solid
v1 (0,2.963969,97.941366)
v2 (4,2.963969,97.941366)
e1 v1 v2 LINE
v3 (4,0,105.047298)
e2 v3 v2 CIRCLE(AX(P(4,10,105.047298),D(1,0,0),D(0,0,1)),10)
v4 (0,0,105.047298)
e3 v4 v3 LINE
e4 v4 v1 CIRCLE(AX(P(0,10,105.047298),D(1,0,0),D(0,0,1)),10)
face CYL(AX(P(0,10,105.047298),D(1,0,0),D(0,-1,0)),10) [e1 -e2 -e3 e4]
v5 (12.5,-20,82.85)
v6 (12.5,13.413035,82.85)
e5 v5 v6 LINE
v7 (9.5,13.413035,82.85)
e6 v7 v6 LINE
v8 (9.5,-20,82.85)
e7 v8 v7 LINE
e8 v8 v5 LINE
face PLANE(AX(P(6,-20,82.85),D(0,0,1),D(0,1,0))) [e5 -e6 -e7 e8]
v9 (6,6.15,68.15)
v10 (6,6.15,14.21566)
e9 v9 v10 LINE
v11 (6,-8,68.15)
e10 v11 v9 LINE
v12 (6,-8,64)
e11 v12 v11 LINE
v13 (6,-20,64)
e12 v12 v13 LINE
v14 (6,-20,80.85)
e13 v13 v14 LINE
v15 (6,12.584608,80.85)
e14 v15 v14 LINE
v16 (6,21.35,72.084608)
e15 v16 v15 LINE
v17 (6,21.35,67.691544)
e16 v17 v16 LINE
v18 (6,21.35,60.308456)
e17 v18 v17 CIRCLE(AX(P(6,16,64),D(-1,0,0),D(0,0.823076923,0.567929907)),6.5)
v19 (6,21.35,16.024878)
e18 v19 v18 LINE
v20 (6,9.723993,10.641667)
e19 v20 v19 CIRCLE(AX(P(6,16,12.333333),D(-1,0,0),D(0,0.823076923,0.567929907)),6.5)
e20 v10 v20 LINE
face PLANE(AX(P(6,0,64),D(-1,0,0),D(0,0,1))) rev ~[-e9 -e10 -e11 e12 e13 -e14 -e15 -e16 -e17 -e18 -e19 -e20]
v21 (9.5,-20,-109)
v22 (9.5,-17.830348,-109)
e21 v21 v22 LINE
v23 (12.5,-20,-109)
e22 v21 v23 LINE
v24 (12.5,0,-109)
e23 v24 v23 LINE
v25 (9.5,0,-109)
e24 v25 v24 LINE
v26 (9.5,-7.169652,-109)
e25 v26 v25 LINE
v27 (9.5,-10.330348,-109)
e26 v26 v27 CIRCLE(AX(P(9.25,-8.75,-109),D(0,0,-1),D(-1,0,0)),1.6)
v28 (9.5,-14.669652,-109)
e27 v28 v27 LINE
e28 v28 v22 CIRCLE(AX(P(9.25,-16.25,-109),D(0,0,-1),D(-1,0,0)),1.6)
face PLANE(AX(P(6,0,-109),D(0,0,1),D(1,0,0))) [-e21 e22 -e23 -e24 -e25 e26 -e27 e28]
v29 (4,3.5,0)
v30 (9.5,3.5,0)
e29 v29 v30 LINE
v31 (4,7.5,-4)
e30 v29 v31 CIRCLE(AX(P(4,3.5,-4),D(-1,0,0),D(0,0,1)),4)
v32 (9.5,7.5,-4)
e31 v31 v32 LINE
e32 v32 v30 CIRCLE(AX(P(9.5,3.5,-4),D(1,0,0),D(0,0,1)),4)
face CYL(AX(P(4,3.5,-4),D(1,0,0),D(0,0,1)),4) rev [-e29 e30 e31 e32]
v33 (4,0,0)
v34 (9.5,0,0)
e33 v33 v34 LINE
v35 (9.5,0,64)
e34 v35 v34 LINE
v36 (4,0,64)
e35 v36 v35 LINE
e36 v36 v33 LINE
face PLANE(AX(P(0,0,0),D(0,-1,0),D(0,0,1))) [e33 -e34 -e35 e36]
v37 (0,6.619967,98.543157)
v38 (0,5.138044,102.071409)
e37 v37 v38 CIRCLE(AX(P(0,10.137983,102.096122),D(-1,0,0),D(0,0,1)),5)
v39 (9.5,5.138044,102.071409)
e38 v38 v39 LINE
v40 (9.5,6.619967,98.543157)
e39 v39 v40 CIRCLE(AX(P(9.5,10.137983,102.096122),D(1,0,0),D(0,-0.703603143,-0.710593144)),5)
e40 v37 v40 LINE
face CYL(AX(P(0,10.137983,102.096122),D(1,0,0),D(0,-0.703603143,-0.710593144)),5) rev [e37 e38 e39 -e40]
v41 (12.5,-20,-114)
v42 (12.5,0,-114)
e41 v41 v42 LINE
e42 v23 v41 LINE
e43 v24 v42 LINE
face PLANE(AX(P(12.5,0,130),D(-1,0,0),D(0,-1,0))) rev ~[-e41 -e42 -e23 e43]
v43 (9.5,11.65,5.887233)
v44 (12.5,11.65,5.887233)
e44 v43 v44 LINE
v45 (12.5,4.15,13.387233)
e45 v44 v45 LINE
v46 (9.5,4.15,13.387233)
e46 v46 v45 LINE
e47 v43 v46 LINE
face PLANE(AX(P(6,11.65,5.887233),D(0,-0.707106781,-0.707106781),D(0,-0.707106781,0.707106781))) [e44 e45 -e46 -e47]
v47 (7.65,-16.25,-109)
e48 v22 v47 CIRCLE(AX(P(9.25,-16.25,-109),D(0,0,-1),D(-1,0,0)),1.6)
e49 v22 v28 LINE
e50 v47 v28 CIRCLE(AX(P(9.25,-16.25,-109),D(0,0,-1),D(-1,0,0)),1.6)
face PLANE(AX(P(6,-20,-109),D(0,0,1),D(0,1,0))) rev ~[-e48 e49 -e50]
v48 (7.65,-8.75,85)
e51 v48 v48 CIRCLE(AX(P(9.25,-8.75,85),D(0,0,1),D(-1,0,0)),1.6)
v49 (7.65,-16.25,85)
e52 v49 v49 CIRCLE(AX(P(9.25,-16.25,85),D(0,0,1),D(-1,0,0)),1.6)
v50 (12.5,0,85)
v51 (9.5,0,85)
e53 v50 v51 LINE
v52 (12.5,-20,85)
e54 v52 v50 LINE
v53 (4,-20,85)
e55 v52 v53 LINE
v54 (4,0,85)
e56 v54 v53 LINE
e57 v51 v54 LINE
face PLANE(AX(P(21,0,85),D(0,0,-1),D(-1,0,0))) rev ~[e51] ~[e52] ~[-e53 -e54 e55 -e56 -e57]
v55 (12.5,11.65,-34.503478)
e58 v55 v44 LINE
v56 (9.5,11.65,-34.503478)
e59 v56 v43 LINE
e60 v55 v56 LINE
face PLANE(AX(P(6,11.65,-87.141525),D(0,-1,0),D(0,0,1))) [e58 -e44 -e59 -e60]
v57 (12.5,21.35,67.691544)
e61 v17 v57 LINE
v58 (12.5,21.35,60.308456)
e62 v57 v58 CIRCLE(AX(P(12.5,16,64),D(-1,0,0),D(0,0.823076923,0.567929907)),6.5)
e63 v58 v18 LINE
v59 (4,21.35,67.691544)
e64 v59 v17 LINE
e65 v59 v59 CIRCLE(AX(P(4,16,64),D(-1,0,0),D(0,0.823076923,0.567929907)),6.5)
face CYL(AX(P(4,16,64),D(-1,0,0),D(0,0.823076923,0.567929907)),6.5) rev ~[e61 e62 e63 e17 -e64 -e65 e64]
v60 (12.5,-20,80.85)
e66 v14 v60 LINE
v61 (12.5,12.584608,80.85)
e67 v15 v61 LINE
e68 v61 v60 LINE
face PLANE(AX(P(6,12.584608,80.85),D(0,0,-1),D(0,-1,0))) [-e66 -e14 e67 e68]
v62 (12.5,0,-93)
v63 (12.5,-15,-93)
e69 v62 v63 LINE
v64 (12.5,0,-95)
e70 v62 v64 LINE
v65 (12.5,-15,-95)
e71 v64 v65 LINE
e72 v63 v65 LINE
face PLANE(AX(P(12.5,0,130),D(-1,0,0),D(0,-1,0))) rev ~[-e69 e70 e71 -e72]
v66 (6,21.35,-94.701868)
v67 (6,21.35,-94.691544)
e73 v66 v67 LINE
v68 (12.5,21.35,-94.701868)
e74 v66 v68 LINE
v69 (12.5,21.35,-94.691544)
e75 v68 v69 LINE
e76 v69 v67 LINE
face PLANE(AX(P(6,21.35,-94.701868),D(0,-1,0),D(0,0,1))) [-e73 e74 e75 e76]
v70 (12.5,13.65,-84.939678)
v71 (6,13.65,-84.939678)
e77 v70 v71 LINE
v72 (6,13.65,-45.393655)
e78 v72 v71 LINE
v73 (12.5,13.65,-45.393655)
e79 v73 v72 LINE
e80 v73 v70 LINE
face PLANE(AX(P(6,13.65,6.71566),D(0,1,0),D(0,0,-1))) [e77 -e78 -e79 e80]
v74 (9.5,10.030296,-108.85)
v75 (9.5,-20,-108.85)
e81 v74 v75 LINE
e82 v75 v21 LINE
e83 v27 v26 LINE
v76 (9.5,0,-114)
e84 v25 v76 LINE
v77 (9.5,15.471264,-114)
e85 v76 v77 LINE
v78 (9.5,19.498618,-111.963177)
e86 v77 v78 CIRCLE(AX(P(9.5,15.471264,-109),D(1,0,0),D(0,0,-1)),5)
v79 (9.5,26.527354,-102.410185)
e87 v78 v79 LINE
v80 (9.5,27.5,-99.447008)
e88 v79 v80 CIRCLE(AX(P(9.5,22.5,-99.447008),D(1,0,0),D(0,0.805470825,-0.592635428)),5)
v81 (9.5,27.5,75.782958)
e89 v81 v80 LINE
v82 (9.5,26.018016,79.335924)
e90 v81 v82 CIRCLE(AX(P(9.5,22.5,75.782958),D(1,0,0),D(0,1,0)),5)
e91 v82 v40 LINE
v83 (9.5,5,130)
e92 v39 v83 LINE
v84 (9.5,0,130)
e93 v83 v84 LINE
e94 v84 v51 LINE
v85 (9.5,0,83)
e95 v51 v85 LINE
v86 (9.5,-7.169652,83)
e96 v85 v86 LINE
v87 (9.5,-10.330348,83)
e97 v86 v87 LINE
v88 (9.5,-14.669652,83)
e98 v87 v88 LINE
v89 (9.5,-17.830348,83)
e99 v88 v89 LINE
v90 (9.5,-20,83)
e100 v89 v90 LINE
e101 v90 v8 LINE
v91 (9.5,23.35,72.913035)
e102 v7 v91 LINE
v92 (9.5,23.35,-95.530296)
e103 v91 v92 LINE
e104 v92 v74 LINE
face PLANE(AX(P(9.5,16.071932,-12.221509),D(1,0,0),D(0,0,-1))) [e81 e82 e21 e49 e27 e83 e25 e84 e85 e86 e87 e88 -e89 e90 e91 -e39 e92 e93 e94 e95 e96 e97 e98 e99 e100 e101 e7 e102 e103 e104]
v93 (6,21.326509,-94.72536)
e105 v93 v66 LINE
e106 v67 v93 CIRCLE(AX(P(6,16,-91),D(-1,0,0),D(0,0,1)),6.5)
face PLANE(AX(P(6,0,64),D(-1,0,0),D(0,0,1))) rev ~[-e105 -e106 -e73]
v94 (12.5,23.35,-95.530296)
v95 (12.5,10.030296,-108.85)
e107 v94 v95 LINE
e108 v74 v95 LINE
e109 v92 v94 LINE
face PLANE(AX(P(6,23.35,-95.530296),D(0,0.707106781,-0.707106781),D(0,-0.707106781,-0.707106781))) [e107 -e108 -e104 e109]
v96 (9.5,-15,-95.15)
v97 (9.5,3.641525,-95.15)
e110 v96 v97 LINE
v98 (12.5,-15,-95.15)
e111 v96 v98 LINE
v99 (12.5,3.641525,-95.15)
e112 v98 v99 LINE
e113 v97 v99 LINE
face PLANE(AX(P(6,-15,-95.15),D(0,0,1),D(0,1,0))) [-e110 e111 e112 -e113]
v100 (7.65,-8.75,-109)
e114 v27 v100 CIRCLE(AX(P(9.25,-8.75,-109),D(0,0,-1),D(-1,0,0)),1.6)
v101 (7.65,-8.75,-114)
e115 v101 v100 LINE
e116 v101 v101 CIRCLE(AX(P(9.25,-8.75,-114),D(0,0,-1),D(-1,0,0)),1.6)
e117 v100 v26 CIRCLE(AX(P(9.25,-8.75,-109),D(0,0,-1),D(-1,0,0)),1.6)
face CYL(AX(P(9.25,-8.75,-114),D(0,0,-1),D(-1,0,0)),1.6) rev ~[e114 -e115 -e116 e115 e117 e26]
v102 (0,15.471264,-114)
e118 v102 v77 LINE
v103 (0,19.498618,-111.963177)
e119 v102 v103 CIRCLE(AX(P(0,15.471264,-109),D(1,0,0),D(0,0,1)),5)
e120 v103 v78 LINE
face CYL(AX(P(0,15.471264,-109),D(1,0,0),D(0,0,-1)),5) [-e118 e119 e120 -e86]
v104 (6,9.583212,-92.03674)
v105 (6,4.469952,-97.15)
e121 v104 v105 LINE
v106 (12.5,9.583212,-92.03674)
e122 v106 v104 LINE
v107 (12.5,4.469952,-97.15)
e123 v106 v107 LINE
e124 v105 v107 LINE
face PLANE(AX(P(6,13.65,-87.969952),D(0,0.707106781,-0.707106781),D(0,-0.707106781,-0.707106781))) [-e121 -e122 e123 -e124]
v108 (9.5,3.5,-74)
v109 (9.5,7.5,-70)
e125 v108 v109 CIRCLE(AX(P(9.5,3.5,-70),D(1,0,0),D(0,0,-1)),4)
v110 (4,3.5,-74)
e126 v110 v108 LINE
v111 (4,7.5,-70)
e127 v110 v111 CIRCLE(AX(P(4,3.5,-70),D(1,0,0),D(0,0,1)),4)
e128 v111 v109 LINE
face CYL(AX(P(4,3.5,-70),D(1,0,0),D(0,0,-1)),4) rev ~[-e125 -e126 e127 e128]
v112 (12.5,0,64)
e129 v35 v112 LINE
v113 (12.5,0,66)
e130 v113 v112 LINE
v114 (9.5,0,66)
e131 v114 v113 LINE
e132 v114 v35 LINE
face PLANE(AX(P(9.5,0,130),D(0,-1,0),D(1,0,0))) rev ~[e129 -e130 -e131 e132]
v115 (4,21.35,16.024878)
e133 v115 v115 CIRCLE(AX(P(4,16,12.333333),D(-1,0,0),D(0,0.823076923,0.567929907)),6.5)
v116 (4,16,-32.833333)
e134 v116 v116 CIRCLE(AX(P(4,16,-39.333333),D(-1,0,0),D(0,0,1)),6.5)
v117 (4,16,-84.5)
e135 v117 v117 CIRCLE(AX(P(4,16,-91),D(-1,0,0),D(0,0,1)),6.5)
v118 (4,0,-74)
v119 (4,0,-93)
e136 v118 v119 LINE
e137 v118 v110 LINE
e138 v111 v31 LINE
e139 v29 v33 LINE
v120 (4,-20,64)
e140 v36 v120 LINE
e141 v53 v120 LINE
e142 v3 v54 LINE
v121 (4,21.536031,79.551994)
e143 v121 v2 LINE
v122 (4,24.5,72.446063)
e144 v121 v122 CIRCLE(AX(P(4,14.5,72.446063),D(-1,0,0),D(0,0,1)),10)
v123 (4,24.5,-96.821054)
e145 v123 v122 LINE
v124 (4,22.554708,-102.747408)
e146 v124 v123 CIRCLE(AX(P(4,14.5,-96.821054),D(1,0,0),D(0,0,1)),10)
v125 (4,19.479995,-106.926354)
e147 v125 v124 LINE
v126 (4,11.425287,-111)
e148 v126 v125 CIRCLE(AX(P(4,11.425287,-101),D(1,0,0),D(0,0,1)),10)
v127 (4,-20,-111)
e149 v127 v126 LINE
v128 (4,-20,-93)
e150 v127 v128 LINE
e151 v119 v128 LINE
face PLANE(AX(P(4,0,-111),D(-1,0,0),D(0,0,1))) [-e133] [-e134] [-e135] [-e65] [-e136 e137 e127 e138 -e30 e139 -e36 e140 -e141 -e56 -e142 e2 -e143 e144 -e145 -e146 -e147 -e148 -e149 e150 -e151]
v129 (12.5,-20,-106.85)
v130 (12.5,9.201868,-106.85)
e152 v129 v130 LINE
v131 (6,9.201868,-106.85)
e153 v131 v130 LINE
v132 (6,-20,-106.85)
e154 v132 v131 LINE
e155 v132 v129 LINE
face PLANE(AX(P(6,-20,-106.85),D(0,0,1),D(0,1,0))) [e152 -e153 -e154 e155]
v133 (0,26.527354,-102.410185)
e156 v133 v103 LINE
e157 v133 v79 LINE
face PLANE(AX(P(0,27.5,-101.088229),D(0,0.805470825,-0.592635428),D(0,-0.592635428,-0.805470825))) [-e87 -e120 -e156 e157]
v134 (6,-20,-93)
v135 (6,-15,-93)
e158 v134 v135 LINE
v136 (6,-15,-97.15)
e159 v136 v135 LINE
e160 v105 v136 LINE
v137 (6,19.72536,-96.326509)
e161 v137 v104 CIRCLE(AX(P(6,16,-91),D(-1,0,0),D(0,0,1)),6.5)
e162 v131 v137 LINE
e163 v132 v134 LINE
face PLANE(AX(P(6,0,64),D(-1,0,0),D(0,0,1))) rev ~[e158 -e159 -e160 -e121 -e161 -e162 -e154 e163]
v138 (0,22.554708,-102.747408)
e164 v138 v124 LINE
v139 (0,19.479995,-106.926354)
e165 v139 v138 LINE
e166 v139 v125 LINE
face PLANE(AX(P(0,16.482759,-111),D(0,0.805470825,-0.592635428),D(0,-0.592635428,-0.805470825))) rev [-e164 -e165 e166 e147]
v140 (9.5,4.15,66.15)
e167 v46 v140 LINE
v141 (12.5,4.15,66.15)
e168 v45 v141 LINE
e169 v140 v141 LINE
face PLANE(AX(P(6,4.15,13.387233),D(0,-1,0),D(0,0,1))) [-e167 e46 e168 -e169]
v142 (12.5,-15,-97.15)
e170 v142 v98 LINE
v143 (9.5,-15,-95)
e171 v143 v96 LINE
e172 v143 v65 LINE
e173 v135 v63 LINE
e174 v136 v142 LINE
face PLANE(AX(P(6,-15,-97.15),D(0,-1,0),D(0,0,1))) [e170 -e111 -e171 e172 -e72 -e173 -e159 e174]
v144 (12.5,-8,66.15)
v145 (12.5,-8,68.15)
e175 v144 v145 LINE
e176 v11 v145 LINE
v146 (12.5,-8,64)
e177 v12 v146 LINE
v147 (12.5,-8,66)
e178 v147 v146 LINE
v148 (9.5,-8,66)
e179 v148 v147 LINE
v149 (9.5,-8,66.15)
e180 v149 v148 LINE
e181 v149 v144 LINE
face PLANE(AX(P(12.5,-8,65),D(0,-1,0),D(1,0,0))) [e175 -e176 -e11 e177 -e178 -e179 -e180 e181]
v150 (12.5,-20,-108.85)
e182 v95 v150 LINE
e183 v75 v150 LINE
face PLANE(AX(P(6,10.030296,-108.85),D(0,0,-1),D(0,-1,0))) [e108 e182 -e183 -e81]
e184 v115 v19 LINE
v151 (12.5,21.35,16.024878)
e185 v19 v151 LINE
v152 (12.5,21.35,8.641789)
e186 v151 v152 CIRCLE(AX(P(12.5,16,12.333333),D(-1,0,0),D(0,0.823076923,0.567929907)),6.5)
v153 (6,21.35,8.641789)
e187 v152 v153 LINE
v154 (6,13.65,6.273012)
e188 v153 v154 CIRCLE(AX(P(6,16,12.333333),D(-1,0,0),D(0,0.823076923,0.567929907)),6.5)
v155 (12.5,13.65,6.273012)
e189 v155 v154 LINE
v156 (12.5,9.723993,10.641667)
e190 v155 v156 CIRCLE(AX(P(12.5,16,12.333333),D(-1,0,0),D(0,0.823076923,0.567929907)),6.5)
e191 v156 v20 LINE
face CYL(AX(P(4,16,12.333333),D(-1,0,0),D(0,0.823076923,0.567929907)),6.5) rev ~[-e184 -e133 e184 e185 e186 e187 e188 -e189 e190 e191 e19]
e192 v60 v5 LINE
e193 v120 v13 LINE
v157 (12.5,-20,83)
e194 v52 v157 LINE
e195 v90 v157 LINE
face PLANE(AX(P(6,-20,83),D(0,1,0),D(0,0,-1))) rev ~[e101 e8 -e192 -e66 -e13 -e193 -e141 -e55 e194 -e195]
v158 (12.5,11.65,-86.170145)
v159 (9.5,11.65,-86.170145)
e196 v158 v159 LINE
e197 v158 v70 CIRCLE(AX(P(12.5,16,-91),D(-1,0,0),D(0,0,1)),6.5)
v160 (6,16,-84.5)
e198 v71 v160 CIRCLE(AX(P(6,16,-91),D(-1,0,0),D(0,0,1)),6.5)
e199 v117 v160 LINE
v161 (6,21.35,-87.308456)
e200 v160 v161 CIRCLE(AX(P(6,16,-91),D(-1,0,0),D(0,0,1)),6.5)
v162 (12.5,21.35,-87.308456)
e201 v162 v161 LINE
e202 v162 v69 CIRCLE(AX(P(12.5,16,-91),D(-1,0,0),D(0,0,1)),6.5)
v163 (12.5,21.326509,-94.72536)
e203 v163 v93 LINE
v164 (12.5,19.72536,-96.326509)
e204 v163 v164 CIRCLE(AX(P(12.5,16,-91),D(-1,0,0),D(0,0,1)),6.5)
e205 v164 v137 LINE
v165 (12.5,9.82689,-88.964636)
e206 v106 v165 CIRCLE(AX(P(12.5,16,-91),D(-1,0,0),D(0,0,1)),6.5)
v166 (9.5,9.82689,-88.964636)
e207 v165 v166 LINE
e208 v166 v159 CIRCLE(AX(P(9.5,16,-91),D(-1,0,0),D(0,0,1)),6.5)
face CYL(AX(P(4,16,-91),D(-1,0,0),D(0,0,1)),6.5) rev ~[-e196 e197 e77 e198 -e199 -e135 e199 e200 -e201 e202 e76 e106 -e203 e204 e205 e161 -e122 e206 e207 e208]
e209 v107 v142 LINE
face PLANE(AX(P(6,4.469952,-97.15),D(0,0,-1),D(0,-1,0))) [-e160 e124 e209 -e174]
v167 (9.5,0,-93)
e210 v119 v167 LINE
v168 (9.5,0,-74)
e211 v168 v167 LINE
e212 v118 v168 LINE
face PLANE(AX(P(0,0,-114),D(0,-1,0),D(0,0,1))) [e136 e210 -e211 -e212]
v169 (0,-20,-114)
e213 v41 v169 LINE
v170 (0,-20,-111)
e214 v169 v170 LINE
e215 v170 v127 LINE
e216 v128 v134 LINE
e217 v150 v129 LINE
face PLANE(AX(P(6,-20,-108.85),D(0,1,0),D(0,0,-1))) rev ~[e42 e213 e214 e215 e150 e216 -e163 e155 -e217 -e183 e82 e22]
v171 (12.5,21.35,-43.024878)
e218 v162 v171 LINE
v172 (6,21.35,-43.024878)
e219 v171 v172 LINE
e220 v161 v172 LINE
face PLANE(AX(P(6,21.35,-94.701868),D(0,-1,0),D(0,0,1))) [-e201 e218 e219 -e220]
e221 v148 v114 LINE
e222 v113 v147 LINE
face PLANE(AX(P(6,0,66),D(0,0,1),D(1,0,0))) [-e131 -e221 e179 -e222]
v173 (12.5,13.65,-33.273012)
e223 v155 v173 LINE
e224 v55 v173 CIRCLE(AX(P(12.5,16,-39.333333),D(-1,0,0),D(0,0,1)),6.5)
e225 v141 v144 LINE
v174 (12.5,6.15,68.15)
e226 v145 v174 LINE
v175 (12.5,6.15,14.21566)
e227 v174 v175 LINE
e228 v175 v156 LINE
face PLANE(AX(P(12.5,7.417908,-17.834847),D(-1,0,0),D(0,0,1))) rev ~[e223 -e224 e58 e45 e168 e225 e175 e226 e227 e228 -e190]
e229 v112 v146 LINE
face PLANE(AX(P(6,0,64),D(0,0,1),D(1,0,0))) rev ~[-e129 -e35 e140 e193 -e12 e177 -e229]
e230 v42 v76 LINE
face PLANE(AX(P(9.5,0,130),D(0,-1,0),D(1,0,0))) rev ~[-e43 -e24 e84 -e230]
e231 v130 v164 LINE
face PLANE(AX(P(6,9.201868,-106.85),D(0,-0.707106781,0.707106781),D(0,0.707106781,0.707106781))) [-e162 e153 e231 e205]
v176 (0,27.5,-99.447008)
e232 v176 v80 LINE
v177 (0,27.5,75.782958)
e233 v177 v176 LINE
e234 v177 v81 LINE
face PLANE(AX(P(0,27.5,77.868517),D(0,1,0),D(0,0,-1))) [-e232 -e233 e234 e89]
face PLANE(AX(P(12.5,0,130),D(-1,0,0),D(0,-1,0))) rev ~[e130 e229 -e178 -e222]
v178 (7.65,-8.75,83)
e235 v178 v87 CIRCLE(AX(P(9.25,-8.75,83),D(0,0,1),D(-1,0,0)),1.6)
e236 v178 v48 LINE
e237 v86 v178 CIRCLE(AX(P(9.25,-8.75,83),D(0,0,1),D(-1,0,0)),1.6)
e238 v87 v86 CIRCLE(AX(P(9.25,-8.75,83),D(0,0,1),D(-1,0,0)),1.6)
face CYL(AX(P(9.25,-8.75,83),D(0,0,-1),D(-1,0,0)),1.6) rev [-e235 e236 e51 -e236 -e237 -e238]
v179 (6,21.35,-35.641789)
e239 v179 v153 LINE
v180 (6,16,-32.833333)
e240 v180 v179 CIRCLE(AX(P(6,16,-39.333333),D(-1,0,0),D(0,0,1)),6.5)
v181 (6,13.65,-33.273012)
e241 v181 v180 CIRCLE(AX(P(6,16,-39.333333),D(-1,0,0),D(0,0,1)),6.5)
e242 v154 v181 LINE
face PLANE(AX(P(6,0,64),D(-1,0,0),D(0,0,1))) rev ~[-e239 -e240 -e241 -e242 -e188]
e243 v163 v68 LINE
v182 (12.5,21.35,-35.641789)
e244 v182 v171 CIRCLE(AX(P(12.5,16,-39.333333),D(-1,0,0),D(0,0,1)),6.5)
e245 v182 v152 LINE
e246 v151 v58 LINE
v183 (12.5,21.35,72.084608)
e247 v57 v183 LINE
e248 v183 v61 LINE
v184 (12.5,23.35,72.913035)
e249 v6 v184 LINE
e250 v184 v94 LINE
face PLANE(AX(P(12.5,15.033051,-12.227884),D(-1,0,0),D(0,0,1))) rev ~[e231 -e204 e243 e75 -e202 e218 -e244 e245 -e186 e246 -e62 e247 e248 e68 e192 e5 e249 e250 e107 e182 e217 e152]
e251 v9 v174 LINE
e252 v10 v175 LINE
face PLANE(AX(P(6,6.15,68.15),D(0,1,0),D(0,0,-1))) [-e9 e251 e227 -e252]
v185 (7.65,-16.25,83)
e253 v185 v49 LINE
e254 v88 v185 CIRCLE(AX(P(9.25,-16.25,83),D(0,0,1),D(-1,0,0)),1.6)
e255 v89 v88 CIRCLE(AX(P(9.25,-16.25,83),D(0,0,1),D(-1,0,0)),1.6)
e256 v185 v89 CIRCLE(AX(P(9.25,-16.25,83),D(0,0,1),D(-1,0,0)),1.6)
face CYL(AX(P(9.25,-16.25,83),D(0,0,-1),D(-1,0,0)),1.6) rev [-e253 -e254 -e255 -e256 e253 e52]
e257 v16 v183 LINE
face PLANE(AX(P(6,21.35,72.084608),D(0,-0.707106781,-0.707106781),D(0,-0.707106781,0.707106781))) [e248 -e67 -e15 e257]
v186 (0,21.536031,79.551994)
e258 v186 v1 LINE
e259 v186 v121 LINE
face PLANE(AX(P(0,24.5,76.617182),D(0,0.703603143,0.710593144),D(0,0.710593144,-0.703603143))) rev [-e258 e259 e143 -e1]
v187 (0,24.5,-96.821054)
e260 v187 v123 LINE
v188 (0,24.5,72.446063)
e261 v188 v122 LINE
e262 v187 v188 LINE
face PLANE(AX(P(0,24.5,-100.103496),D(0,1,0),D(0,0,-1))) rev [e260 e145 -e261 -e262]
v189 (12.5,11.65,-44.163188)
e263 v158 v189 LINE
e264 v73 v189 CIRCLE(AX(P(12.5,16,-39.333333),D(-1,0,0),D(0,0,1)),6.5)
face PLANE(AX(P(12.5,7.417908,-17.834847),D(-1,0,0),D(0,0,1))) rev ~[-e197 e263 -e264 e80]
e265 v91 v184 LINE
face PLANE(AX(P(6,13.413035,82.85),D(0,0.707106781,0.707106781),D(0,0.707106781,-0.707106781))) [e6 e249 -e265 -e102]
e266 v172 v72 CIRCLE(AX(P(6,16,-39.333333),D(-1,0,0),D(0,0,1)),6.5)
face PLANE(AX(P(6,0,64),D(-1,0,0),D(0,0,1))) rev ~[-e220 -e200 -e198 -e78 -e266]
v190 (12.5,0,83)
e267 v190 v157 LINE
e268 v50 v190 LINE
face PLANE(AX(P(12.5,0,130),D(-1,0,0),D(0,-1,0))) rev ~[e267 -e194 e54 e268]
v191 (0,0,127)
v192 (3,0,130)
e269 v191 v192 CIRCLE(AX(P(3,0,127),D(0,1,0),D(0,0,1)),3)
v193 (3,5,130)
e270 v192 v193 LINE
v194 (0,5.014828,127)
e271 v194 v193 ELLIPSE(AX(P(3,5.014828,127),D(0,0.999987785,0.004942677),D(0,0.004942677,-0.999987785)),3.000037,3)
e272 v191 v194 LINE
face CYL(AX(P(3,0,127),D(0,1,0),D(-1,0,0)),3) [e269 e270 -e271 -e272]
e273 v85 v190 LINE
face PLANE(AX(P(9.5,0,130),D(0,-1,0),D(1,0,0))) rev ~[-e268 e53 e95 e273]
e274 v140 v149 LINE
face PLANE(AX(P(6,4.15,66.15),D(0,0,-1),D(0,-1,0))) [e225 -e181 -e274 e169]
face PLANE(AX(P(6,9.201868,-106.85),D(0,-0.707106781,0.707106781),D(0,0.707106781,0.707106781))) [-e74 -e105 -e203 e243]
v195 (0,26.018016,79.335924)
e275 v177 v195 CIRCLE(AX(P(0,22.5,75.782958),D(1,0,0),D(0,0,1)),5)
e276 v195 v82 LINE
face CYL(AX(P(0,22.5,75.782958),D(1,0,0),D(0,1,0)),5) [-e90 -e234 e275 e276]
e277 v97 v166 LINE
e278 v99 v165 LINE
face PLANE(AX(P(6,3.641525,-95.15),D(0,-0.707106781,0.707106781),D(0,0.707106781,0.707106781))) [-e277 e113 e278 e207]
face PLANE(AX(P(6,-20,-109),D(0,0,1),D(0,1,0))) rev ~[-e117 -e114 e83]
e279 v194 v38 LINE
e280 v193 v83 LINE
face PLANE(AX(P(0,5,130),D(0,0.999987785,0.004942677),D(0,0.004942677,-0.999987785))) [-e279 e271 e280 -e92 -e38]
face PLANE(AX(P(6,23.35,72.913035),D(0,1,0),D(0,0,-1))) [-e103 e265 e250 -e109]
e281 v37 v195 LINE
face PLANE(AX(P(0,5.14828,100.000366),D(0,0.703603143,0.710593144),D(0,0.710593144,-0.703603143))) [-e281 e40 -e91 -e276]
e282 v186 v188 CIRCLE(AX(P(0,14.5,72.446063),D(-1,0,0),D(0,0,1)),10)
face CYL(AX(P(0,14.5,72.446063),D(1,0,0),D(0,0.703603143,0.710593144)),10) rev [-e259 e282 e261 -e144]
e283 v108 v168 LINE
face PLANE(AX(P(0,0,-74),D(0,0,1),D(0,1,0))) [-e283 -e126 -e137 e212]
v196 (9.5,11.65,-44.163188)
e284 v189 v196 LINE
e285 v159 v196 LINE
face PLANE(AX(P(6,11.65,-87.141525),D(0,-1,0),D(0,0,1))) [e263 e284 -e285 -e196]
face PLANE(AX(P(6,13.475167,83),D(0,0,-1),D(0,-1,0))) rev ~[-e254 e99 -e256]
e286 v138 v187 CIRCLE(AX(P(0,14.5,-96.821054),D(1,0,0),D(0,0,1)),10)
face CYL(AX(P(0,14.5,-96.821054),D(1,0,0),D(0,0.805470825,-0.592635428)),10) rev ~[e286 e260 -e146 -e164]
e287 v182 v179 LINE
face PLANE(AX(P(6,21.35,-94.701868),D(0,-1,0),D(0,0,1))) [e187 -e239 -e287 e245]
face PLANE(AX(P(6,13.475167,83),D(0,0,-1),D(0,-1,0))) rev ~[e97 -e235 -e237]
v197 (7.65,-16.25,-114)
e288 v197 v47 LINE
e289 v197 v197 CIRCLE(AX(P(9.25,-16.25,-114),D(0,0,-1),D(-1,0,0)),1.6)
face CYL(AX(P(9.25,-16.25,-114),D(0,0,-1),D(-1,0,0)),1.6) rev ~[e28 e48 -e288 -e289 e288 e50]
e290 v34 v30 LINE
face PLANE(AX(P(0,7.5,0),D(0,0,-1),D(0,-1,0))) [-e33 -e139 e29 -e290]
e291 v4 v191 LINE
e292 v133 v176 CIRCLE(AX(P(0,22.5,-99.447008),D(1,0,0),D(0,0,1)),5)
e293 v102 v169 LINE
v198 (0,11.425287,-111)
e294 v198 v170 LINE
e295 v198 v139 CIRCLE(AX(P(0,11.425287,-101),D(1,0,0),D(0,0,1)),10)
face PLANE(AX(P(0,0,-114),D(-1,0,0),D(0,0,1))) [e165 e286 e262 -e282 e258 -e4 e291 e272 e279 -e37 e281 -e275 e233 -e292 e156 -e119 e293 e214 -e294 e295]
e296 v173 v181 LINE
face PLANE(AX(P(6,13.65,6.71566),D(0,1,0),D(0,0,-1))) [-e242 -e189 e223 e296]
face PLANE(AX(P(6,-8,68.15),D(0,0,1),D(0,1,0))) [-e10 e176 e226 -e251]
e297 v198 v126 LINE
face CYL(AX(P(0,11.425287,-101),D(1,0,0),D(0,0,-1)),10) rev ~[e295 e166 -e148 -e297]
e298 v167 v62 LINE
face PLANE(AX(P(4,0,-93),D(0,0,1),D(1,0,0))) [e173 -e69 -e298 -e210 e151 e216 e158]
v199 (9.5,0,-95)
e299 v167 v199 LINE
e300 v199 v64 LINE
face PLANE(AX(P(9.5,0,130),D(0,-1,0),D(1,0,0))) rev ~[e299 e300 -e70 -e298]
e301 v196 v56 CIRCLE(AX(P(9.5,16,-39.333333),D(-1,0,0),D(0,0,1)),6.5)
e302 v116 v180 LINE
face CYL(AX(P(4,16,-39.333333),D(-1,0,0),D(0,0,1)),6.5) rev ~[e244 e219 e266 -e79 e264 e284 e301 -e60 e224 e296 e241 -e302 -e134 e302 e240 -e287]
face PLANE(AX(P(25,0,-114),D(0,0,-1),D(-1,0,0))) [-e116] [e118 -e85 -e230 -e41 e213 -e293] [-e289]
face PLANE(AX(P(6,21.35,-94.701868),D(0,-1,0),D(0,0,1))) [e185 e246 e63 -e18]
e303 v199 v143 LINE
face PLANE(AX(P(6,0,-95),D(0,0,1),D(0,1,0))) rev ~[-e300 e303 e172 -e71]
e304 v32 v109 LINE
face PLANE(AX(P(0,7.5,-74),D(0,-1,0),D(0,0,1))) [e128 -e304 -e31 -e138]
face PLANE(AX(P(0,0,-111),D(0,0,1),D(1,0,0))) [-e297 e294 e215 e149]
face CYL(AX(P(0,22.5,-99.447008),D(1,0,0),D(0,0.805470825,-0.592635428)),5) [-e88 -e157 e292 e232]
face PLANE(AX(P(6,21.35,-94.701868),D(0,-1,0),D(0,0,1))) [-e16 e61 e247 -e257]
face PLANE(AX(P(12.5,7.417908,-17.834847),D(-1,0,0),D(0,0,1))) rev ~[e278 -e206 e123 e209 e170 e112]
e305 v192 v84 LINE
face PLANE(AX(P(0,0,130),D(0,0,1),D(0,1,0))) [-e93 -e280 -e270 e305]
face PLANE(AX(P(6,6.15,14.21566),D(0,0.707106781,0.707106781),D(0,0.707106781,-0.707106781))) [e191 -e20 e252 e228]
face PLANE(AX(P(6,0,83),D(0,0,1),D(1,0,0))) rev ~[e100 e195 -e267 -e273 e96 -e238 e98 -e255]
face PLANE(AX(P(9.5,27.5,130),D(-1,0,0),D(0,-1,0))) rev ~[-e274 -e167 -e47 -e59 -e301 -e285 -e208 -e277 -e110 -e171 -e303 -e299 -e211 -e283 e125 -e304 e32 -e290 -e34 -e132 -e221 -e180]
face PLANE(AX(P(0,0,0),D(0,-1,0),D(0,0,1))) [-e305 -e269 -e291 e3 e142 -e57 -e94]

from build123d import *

# Parameters (mm, degrees)
BOSS_EXTRUDE1_DEPTH          = 25
CUT_EXTRUDE1_DEPTH           = 4
FILLET1_R                    = 4
FILLET2_R                    = 10
FILLET3_R                    = 5
FILLET4_R                    = 3
BOSS_EXTRUDE2_DEPTH          = 3
BOSS_EXTRUDE2_DEPTH_BACK     = 3
FILLET5_R                    = 3
SKETCH6_W                    = 13
SKETCH6_H                    = 14
BOSS_EXTRUDE3_DEPTH          = 20
BOSS_EXTRUDE4_DEPTH          = 20
SKETCH9_W                    = 13
SKETCH9_H                    = 2
BOSS_EXTRUDE5_DEPTH          = 8
SKETCH7_W                    = 13
SKETCH7_H                    = 2
CUT_EXTRUDE2_DEPTH           = 5
SKETCH11_R                   = 1.6
CUT_EXTRUDE3_DEPTH           = 19
CUT_EXTRUDE4_START           = -2
SKETCH12_R                   = 1.6
CUT_EXTRUDE4_DEPTH           = 2
CUT_EXTRUDE5_DEPTH           = 6.5
CUT_EXTRUDE5_DEPTH_BACK      = 6.5
CUT_EXTRUDE7_DEPTH           = 247.814201374
BOSS_EXTRUDE6_DEPTH          = 6.5
BOSS_EXTRUDE8_DEPTH          = 3.5
MAKE_THIS_A_SQUARE_OR_SMTH_R = 6.5
CUT_EXTRUDE8_DEPTH           = 134.148413434


with BuildPart() as part:
    # Sketch1 → Boss-Extrude1 (new body)
    with BuildSketch(Plane(origin=(0, 0, 0), x_dir=(0, 0, -1), z_dir=(1, 0, 0))):
        Polygon((0, 0), (-130, 0), (-130, 5), (-100.000366453, 5.148280317), (-77.868517379, 27.5), (101.088229162, 27.5), (114, 18), (114, 0), (74, 0), (74, 7.5), (0, 7.5), align=None)
    extrude(amount=BOSS_EXTRUDE1_DEPTH)

    # Sketch4 → Cut-Extrude1 (cut)
    with BuildSketch(Plane(origin=(25, 0, 0), x_dir=(0, 0, -1), z_dir=(1, 0, 0))):
        Polygon((-100.876178749, 0), (0, 0), (111, 0), (111, 3), (111, 16.482758557), (100.103496394, 24.5), (-76.617181678, 24.5), align=None)
    cut_extrude1 = extrude(amount=-CUT_EXTRUDE1_DEPTH, mode=Mode.SUBTRACT)

    # Mirror2: Cut-Extrude1 across plane
    add(cut_extrude1.mirror(Plane(origin=(12.5, 0, 0), x_dir=(0, 0, 1), z_dir=(1, 0, 0))), mode=Mode.SUBTRACT)

    # Fillet1
    fillet1_edges = [part.edges().sort_by_distance(p)[0] for p in [
        (12.5, 7.5, -74),
        (12.5, 7.5, 0),
    ]]
    fillet(fillet1_edges, radius=FILLET1_R)

    # Fillet2
    fillet2_edges = [part.edges().sort_by_distance(p)[0] for p in [
        (23, 0, 100.876178749),
        (23, 24.5, 76.617181678),
        (23, 24.5, -100.103496394),
        (23, 16.482758557, -111),
        (2, 0, 100.876178749),
        (2, 16.482758557, -111),
        (2, 24.5, -100.103496394),
        (2, 24.5, 76.617181678),
    ]]
    fillet(fillet2_edges, radius=FILLET2_R)

    # Fillet3
    fillet3_edges = [part.edges().sort_by_distance(p)[0] for p in [
        (12.5, 5.148280317, 100.000366453),
        (12.5, 27.5, 77.868517379),
        (12.5, 27.5, -101.088229162),
        (12.5, 18, -114),
    ]]
    fillet(fillet3_edges, radius=FILLET3_R)

    # Fillet4
    fillet4_edges = [part.edges().sort_by_distance(p)[0] for p in [
        (0, 2.5, 130),
        (25, 2.5, 130),
    ]]
    fillet(fillet4_edges, radius=FILLET4_R)

    # Sketch5 → Boss-Extrude2 (add, two sides: drawn at the far end of the back side and taken through both)
    with BuildSketch(Plane(origin=(12.5, 0, 0), x_dir=(0, 0, -1), z_dir=(1, 0, 0)).offset(-BOSS_EXTRUDE2_DEPTH_BACK)):
        Polygon((-117.8659777, 5.059975288), (-103.793914836, 19.271838176), (-72.605250228, 19.271838176), (-95.8659777, 5.059975288), align=None)
    extrude(amount=BOSS_EXTRUDE2_DEPTH + BOSS_EXTRUDE2_DEPTH_BACK)

    # Fillet5
    fillet5_edges = [part.edges().sort_by_distance(p)[0] for p in [
        (12.5, 19.271838176, 103.793914836),
    ]]
    fillet(fillet5_edges, radius=FILLET5_R)

    # Sketch6 → Boss-Extrude3 (add)
    with BuildSketch(Plane.XZ):
        Polygon((0, -111), (4, -111), (4, -93), (21, -93), (21, -111), (25, -111), (25, -114), (0, -114), align=None)
        with Locations((12.5, -102)):
            Rectangle(SKETCH6_W, SKETCH6_H, mode=Mode.SUBTRACT)
    extrude(amount=BOSS_EXTRUDE3_DEPTH)

    # Sketch8 → Boss-Extrude4 (add)
    with BuildSketch(Plane.XZ):
        Polygon((21, 85), (4, 85), (4, 64), (6, 64), (6, 83), (19, 83), (19, 64), (21, 64), align=None)
    extrude(amount=BOSS_EXTRUDE4_DEPTH)

    # Sketch9 → Boss-Extrude5 (add)
    with BuildSketch(Plane.XZ):
        with Locations((12.5, 65)):
            Rectangle(SKETCH9_W, SKETCH9_H)
    extrude(amount=BOSS_EXTRUDE5_DEPTH)

    # Sketch7 → Cut-Extrude2 (cut)
    with BuildSketch(Plane.XZ.offset(20)):
        with Locations((12.5, -94)):
            Rectangle(SKETCH7_W, SKETCH7_H)
    extrude(amount=-CUT_EXTRUDE2_DEPTH, mode=Mode.SUBTRACT)

    # Sketch11 → Cut-Extrude3 (cut)
    with BuildSketch(Plane(origin=(0, 0, -114), x_dir=(-1, 0, 0), z_dir=(0, 0, -1))):
        with Locations((-15.75, -16.25)):
            Circle(SKETCH11_R)
        with Locations((-15.75, -8.75)):
            Circle(SKETCH11_R)
        with Locations((-9.25, -8.75)):
            Circle(SKETCH11_R)
        with Locations((-9.25, -16.25)):
            Circle(SKETCH11_R)
    extrude(amount=-CUT_EXTRUDE3_DEPTH, mode=Mode.SUBTRACT)

    # Sketch12 → Cut-Extrude4 (cut)
    with BuildSketch(Plane.XY.offset(85).offset(CUT_EXTRUDE4_START)):
        with Locations(Location((15.75, -16.25, 0), (0, 0, 180))):
            Circle(SKETCH12_R)
        with Locations(Location((9.25, -16.25, 0), (0, 0, 180))):
            Circle(SKETCH12_R)
        with Locations(Location((9.25, -8.75, 0), (0, 0, 180))):
            Circle(SKETCH12_R)
        with Locations(Location((15.75, -8.75, 0), (0, 0, 180))):
            Circle(SKETCH12_R)
    extrude(amount=CUT_EXTRUDE4_DEPTH, mode=Mode.SUBTRACT)

    # Sketch14 → Cut-Extrude5 (cut, two sides: drawn at the far end of the back side and taken through both)
    with BuildSketch(Plane(origin=(12.5, 0, 0), x_dir=(0, 0, -1), z_dir=(1, 0, 0)).offset(-CUT_EXTRUDE5_DEPTH_BACK)):
        Polygon((-83, 0), (-83, 13.475167258), (-72.975167258, 23.5), (95.592427597, 23.5), (109, 10.092427597), (109, 0), (95, 0), (95, 3.57939317), (87.07939317, 11.5), (-5.825100808, 11.5), (-13.325100808, 4), (-66, 4), (-66, 0), align=None)
    extrude(amount=CUT_EXTRUDE5_DEPTH + CUT_EXTRUDE5_DEPTH_BACK, mode=Mode.SUBTRACT)

    # Sketch17 → Cut-Extrude7 (cut, through all)
    with BuildSketch(Plane.XY.offset(130)):
        Polygon((12.5, -20), (25, -20), (25, 27.5), (9.5, 27.5), (9.5, 5.138043697), (9.5, 0), (12.5, 0), align=None)
    extrude(amount=-CUT_EXTRUDE7_DEPTH, mode=Mode.SUBTRACT)

    # Sketch18 → Boss-Extrude6 (add)
    with BuildSketch(Plane(origin=(6, 0, 0), x_dir=(0, 0, -1), z_dir=(1, 0, 0))):
        Polygon((-66.15, -8), (-68.15, -8), (-68.15, 6.15), (-14.215659968, 6.15), (-6.715659968, 13.65), (87.96995233, 13.65), (97.15, 4.46995233), (97.15, -15), (95.15, -15), (95.15, 3.641525205), (87.141525205, 11.65), (-5.887232843, 11.65), (-13.387232843, 4.15), (-66.15, 4.15), align=None)
        Polygon((-82.85, -20), (-82.85, 13.413035223), (-72.913035223, 23.35), (95.530295563, 23.35), (108.85, 10.030295563), (108.85, -20), (106.85, -20), (106.85, 9.201868438), (94.701868438, 21.35), (-72.084608099, 21.35), (-80.85, 12.584608099), (-80.85, -20), align=None)
    extrude(amount=BOSS_EXTRUDE6_DEPTH)

    # Sketch24 → Boss-Extrude8 (add)
    with BuildSketch(Plane(origin=(6, 0, 0), x_dir=(0, 0, -1), z_dir=(1, 0, 0))):
        Polygon((-83, -20), (-82.85, -20), (-82.85, 13.413035223), (-72.913035223, 23.35), (95.530295563, 23.35), (108.85, 10.030295563), (108.85, -20), (109, -20), (109, 10.092427597), (95.592427597, 23.5), (-72.975167258, 23.5), (-83, 13.475167258), align=None)
        Polygon((-66.15, -8), (-66, -8), (-66, 4), (-13.325100808, 4), (-5.825100808, 11.5), (87.07939317, 11.5), (95, 3.57939317), (95, -15), (95.15, -15), (95.15, 3.641525205), (87.141525205, 11.65), (-5.887232843, 11.65), (-13.387232843, 4.15), (-66.15, 4.15), align=None)
    extrude(amount=BOSS_EXTRUDE8_DEPTH)

    # MAKE THIS A SQUARE OR SMTH → Cut-Extrude8 (cut, through all)
    with BuildSketch(Plane.ZY.offset(-4)):
        with Locations((-91, 16)):
            Circle(MAKE_THIS_A_SQUARE_OR_SMTH_R)
        with Locations((-39.333333333, 16)):
            Circle(MAKE_THIS_A_SQUARE_OR_SMTH_R)
        with Locations(Location((64, 16, 0), (0, 0, 55.394002372))):
            Circle(MAKE_THIS_A_SQUARE_OR_SMTH_R)
        with Locations(Location((12.333333333, 16, 0), (0, 0, 55.394002372))):
            Circle(MAKE_THIS_A_SQUARE_OR_SMTH_R)
    extrude(amount=-CUT_EXTRUDE8_DEPTH, mode=Mode.SUBTRACT)


solid = part.part
